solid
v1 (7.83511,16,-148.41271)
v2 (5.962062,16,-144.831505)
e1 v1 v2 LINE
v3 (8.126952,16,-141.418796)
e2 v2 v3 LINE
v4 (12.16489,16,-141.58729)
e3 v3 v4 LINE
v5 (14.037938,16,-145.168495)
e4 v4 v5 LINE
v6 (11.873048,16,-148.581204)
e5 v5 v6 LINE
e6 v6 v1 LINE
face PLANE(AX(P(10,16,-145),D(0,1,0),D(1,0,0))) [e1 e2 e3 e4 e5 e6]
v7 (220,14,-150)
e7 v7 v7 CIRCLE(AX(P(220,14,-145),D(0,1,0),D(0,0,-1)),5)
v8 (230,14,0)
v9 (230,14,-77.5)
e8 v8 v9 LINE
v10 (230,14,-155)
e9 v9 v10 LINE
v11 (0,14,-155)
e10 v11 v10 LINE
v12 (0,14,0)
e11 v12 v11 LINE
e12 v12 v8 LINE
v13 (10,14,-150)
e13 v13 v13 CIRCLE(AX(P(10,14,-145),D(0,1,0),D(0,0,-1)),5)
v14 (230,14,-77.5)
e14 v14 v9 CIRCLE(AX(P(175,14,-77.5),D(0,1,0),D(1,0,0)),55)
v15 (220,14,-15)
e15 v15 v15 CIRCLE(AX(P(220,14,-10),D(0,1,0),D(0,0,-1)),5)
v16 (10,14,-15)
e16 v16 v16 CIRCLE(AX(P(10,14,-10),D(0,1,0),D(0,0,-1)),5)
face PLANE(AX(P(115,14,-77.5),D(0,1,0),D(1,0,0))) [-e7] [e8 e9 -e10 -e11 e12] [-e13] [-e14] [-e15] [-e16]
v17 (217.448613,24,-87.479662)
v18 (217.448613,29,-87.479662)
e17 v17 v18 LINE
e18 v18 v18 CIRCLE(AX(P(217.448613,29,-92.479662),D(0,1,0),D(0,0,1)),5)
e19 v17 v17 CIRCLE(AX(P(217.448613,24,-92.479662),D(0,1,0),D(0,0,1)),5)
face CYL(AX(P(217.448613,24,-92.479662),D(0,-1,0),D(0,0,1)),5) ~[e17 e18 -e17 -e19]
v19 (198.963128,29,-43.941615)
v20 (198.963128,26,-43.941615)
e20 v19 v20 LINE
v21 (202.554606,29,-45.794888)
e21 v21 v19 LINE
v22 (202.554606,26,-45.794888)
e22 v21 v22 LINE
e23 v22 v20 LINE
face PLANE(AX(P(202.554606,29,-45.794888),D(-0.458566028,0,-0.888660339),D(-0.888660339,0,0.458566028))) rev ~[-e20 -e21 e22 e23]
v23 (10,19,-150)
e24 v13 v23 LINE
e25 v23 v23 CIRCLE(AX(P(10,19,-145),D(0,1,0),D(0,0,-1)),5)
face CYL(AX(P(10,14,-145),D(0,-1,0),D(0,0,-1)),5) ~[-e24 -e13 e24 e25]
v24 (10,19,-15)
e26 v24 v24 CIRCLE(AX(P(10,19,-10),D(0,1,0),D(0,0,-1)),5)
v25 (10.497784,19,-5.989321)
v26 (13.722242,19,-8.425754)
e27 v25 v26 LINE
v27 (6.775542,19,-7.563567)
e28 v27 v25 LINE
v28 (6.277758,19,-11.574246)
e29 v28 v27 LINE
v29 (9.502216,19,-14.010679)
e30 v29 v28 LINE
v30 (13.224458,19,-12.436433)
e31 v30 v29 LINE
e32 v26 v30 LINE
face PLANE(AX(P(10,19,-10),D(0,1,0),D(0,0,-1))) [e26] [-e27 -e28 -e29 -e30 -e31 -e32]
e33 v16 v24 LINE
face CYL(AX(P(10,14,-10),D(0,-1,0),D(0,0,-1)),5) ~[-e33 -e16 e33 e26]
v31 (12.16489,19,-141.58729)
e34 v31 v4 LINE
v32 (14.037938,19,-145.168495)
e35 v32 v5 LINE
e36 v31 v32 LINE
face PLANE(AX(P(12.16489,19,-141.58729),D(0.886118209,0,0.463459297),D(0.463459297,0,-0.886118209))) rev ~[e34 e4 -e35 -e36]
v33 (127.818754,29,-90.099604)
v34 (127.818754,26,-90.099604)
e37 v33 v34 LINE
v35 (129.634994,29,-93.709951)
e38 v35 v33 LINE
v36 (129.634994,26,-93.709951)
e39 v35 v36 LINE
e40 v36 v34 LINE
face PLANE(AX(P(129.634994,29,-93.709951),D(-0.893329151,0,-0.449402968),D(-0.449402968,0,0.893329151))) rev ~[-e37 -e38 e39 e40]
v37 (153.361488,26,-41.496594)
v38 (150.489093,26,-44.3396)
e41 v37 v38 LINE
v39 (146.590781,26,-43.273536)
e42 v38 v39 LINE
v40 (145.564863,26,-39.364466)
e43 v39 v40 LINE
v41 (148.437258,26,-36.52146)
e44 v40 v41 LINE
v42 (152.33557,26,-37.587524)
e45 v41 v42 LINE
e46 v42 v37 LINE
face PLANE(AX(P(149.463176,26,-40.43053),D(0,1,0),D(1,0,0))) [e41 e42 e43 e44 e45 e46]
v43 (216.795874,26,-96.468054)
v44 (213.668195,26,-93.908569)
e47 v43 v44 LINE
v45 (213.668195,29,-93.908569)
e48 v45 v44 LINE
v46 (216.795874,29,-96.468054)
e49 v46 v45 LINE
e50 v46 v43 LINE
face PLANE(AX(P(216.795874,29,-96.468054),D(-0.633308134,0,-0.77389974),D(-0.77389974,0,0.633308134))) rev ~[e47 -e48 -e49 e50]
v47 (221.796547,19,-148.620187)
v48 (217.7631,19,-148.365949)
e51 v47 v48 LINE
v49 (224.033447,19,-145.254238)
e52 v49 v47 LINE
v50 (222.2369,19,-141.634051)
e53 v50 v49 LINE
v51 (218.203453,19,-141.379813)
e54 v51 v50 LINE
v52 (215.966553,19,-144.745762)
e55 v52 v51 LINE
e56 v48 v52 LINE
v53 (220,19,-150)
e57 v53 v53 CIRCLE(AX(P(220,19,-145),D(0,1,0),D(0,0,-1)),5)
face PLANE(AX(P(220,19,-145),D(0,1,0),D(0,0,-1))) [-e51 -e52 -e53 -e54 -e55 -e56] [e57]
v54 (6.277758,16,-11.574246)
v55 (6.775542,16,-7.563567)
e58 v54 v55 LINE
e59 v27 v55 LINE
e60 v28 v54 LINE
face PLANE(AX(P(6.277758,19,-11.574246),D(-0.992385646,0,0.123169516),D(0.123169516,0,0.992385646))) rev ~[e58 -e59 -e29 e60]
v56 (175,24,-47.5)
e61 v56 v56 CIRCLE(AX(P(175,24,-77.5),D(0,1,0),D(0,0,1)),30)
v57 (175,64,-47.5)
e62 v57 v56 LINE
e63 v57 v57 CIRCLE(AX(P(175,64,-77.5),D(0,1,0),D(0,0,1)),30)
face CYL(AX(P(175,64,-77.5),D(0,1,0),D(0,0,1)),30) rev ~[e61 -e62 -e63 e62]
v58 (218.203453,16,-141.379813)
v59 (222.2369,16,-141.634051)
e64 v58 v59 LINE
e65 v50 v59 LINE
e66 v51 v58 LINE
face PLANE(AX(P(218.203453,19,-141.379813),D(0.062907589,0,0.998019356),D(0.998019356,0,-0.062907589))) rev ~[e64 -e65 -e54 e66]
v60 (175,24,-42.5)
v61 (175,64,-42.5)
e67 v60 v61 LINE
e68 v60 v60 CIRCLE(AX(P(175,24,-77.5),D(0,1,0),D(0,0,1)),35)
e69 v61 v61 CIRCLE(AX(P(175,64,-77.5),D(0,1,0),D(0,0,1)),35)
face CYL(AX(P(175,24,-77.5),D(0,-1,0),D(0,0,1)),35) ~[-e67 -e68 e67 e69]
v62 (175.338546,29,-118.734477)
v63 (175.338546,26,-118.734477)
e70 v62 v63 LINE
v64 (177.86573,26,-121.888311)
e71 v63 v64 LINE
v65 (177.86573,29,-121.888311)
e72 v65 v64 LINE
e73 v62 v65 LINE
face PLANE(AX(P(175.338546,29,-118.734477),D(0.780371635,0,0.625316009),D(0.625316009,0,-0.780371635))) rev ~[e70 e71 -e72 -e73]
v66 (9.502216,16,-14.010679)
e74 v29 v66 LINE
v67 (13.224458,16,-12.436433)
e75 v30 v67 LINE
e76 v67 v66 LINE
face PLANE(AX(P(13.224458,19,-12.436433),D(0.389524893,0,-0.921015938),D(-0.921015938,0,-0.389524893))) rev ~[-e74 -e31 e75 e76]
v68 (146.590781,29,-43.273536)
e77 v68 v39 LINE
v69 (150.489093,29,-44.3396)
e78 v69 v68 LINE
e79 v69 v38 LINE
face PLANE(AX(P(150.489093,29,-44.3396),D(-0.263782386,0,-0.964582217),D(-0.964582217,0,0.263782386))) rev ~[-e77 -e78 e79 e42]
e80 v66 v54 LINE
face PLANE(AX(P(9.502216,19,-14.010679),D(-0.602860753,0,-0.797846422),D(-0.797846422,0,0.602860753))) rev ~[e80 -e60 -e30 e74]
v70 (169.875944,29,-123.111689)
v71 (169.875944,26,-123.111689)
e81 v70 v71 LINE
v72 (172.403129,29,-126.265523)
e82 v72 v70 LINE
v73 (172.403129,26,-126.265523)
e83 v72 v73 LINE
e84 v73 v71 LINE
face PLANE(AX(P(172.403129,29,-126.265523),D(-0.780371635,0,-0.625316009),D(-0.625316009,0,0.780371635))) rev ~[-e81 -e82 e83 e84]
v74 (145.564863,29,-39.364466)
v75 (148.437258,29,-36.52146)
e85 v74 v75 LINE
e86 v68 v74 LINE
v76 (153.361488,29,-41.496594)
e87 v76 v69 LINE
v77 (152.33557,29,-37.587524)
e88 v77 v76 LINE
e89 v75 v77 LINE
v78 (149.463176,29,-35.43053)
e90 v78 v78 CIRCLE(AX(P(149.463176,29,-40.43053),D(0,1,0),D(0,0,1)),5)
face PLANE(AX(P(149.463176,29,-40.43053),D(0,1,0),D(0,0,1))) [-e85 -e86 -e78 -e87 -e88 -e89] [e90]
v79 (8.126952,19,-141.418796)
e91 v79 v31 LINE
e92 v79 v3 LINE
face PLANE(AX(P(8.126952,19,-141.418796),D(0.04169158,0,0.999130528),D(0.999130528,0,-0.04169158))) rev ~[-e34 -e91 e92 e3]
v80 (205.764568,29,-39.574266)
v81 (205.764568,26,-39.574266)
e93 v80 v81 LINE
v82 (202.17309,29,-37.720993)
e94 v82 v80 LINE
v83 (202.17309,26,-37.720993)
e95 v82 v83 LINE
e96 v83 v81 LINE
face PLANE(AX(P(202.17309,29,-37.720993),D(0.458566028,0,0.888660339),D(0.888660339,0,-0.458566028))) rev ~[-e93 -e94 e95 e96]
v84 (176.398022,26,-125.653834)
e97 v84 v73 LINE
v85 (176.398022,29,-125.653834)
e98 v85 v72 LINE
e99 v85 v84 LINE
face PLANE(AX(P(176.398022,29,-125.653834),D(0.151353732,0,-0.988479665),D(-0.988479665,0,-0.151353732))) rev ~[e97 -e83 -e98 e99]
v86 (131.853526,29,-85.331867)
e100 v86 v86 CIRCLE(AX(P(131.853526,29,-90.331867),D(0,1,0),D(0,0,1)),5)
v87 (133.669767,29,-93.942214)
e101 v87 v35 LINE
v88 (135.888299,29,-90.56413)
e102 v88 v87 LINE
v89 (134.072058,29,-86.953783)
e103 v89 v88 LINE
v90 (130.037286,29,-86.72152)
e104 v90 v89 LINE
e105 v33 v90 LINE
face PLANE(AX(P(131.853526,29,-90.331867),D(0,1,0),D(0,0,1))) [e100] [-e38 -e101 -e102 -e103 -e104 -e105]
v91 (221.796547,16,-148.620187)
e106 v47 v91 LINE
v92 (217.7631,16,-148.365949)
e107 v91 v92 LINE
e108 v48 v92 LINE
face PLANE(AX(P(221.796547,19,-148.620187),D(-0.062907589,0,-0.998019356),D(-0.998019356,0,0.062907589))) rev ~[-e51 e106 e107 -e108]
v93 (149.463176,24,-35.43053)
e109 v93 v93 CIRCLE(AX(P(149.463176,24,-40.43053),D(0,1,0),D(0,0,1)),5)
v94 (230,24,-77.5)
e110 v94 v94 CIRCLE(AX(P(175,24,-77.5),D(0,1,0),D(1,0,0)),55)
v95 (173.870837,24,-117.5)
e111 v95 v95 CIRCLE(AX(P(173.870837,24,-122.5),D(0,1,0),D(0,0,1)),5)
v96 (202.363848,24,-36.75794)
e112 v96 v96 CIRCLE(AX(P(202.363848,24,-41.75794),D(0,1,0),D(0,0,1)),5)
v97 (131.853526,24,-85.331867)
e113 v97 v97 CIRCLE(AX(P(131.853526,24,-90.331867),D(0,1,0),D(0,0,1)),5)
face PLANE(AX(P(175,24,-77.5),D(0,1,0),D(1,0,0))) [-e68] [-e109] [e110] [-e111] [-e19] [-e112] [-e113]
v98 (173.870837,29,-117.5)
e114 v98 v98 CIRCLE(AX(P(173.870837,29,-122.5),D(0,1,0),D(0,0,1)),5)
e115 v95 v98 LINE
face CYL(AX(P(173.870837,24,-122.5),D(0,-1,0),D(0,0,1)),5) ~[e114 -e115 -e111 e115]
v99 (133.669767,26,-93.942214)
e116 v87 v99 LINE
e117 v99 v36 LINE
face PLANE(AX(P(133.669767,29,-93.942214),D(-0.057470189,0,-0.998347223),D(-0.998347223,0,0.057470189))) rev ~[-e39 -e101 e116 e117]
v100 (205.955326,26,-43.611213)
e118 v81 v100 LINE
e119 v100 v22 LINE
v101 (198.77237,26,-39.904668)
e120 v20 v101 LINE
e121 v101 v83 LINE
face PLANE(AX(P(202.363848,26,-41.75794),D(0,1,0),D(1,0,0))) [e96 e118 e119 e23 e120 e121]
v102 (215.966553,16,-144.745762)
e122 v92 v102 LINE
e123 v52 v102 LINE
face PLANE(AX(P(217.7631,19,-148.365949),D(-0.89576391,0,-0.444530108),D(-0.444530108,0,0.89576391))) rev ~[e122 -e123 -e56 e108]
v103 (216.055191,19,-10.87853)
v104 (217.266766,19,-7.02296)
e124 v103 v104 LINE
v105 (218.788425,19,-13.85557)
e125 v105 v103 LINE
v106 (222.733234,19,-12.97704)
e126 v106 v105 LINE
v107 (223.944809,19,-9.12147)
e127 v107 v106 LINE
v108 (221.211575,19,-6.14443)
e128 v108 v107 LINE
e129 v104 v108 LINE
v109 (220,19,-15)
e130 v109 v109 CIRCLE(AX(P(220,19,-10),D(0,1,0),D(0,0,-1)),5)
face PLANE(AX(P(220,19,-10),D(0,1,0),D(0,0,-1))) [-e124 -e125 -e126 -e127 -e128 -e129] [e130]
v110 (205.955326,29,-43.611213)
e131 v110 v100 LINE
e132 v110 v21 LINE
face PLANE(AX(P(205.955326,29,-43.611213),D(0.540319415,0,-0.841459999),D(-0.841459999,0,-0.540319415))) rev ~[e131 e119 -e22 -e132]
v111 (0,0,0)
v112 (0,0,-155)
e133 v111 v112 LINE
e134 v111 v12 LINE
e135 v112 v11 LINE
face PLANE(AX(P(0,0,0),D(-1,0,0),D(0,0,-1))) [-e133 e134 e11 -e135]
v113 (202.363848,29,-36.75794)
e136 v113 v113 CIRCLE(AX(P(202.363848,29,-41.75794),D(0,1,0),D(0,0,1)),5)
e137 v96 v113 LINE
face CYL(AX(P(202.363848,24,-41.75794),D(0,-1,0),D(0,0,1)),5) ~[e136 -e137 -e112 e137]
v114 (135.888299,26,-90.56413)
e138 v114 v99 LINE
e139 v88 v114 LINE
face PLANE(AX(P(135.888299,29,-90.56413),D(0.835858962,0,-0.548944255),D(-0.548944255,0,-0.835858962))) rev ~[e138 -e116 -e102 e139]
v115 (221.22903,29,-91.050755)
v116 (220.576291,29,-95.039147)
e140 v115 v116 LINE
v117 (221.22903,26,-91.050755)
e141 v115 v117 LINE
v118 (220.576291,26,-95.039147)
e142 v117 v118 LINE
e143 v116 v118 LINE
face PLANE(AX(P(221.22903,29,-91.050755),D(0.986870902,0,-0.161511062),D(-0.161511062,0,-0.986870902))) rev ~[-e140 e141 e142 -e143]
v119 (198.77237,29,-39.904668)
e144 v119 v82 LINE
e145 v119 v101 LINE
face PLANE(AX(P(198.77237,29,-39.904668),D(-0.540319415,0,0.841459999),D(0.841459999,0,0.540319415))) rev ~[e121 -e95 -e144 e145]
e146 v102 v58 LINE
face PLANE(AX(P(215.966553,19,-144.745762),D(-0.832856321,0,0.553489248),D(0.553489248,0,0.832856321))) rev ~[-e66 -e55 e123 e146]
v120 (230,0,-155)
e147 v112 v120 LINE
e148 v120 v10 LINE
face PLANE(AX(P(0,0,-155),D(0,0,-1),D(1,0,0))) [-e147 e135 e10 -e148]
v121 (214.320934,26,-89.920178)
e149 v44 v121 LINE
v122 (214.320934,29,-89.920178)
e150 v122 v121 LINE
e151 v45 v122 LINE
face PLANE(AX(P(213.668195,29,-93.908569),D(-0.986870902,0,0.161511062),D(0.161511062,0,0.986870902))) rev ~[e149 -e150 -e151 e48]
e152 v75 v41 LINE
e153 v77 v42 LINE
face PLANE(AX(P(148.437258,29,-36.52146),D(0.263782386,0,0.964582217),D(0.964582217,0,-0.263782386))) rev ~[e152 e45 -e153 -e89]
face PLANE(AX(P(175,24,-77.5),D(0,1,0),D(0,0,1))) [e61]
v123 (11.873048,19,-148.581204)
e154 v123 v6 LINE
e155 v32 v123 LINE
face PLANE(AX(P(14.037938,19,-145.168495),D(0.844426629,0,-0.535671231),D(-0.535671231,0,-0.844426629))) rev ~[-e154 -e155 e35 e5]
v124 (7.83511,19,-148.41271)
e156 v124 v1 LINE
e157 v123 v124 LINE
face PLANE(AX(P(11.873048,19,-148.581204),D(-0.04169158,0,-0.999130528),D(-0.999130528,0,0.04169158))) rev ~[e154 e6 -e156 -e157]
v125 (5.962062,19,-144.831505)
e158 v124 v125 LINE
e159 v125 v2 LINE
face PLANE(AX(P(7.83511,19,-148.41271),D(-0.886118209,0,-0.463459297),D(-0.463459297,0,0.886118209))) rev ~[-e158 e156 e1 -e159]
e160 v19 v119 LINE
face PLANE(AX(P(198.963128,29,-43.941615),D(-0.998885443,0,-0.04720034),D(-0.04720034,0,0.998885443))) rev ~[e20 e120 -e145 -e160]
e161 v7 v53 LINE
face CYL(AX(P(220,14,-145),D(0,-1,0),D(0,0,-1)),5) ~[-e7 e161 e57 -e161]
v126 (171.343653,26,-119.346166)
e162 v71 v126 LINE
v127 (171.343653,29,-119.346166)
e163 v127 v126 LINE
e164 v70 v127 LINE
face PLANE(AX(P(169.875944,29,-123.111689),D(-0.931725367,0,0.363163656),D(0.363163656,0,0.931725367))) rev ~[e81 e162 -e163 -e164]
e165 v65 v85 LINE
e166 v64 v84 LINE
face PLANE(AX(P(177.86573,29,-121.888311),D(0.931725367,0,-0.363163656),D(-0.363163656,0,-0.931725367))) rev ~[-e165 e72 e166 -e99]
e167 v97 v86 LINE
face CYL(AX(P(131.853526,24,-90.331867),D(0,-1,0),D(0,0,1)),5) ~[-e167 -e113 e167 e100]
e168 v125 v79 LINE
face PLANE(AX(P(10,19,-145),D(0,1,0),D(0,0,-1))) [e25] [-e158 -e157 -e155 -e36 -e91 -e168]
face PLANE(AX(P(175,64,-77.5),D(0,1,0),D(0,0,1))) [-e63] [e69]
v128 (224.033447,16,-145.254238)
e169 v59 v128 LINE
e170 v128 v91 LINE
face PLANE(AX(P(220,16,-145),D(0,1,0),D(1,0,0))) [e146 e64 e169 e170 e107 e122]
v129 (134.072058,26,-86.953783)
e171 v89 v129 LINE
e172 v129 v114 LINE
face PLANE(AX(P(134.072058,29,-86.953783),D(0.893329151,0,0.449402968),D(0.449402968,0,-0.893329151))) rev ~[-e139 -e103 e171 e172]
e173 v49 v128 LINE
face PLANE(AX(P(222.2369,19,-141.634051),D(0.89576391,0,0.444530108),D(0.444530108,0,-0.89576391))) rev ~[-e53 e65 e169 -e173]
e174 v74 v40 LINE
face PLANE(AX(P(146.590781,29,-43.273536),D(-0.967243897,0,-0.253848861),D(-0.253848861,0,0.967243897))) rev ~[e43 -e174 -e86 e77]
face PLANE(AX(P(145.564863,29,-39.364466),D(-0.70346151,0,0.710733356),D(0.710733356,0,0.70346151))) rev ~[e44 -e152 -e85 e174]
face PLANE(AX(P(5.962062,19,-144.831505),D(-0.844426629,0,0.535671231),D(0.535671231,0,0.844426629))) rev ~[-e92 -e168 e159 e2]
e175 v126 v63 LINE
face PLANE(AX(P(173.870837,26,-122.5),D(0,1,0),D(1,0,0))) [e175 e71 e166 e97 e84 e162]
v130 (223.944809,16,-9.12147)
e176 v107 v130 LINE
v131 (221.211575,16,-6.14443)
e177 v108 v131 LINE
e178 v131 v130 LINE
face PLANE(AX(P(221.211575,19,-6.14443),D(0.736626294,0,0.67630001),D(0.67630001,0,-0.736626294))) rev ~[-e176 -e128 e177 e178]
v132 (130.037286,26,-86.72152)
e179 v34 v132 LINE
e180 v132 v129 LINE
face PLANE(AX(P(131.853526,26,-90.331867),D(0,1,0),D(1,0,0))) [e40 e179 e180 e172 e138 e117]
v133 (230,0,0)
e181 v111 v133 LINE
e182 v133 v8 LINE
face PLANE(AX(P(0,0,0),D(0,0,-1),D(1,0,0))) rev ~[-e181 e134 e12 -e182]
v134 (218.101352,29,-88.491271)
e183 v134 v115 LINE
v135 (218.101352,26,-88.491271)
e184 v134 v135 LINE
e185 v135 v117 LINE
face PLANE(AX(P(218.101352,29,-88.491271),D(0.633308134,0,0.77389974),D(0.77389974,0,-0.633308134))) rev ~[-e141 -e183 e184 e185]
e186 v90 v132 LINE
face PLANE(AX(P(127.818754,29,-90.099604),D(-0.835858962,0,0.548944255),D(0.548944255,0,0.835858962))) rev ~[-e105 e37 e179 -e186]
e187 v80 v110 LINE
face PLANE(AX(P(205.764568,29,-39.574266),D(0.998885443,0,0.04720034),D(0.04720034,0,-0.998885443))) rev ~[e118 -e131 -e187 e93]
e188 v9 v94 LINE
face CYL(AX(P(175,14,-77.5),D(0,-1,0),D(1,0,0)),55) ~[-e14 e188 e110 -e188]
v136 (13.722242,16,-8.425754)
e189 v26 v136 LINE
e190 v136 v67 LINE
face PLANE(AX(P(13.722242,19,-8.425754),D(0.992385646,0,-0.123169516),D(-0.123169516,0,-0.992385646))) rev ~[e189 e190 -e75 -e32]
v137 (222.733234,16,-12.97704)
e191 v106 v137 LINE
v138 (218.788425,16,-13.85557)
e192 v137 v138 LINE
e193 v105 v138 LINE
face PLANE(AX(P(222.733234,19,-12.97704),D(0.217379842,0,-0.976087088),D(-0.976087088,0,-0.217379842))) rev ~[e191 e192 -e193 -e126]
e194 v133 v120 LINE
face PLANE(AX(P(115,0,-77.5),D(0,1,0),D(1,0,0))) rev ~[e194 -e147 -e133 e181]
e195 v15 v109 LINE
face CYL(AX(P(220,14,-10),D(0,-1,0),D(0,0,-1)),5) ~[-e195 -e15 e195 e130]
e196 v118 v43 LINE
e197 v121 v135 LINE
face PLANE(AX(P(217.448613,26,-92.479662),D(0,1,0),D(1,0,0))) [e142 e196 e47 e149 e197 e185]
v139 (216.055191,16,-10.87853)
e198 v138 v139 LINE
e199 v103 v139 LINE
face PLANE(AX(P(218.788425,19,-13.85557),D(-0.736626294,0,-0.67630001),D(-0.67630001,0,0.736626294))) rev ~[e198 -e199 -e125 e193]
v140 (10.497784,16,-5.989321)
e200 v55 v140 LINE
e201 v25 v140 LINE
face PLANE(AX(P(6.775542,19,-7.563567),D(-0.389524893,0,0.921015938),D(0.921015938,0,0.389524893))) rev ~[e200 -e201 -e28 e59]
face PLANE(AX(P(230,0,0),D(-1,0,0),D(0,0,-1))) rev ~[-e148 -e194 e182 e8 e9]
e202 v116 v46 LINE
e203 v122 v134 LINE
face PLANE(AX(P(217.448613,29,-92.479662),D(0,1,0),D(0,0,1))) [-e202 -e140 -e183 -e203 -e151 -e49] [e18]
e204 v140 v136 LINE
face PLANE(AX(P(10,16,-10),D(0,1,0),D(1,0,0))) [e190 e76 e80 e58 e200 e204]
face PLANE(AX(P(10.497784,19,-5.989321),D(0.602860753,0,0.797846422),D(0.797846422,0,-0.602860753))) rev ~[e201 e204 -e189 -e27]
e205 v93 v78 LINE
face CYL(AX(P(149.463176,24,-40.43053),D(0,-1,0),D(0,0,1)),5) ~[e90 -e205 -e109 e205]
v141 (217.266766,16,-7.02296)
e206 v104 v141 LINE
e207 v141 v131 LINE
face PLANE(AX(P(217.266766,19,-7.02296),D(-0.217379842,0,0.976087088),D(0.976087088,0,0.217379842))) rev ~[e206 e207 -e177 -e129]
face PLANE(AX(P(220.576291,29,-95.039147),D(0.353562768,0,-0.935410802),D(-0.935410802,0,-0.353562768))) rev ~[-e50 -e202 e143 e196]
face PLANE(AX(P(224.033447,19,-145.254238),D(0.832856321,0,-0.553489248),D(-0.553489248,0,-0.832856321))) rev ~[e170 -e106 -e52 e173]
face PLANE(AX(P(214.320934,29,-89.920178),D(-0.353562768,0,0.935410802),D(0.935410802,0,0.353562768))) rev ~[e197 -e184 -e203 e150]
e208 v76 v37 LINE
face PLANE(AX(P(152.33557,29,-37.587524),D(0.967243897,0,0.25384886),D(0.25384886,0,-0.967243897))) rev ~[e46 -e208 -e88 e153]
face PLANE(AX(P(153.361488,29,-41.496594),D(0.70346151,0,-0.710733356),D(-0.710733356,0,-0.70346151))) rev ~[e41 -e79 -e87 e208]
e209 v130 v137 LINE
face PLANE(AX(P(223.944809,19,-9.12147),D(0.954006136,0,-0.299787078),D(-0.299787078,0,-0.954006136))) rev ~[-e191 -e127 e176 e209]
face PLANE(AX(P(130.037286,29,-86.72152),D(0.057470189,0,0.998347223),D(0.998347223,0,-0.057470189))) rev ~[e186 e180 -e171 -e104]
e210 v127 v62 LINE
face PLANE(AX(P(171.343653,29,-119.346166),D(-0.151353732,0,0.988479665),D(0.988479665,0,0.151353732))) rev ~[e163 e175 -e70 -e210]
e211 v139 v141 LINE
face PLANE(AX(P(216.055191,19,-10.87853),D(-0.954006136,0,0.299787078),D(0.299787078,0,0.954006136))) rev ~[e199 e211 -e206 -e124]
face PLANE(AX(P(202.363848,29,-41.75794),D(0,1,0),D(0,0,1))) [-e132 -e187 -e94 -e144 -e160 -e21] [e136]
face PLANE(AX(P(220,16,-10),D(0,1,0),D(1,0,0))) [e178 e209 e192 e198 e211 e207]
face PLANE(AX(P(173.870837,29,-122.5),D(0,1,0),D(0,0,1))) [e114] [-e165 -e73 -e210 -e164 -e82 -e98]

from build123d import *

# Parameters (mm, degrees)
SKETCH1_W           = 230
SKETCH1_H           = 155
BOSS_EXTRUDE1_DEPTH = 14
SKETCH2_R           = 55
BOSS_EXTRUDE2_DEPTH = 10
SKETCH4_R           = 35
BOSS_EXTRUDE3_DEPTH = 40
SKETCH8_R           = 30
CUT_EXTRUDE1_DEPTH  = 40
SKETCH11_R          = 5
BOSS_EXTRUDE5_DEPTH = 5
CUT_EXTRUDE3_DEPTH  = 3
SKETCH14_R          = 5
BOSS_EXTRUDE8_DEPTH = 5
CUT_EXTRUDE4_DEPTH  = 3


with BuildPart() as part:
    # Sketch1 → Boss-Extrude1 (new body)
    with BuildSketch(Plane(origin=(0, 0, 0), x_dir=(1, 0, 0), z_dir=(0, 1, 0))):
        with Locations((115, 77.5)):
            Rectangle(SKETCH1_W, SKETCH1_H)
    extrude(amount=BOSS_EXTRUDE1_DEPTH)

    # Sketch2 → Boss-Extrude2 (add)
    with BuildSketch(Plane(origin=(0, 14, 0), x_dir=(1, 0, 0), z_dir=(0, 1, 0))):
        with Locations((175, 77.5)):
            Circle(SKETCH2_R)
    extrude(amount=BOSS_EXTRUDE2_DEPTH)

    # Sketch4 → Boss-Extrude3 (add)
    with BuildSketch(Plane(origin=(0, 24, 0), x_dir=(1, 0, 0), z_dir=(0, 1, 0))):
        with Locations(Location((175, 77.5, 0), (0, 0, 270))):
            Circle(SKETCH4_R)
    extrude(amount=BOSS_EXTRUDE3_DEPTH)

    # Sketch8 → Cut-Extrude1 (cut)
    with BuildSketch(Plane(origin=(0, 64, 0), x_dir=(1, 0, 0), z_dir=(0, 1, 0))):
        with Locations(Location((175, 77.5, 0), (0, 0, 270))):
            Circle(SKETCH8_R)
    extrude(amount=-CUT_EXTRUDE1_DEPTH, mode=Mode.SUBTRACT)

    # Sketch11 → Boss-Extrude5 (add)
    with BuildSketch(Plane(origin=(0, 14, 0), x_dir=(1, 0, 0), z_dir=(0, 1, 0))):
        with Locations(Location((10, 10, 0), (0, 0, 90))):
            Circle(SKETCH11_R)
        with Locations(Location((10, 145, 0), (0, 0, 90))):
            Circle(SKETCH11_R)
        with Locations(Location((220, 145, 0), (0, 0, 90))):
            Circle(SKETCH11_R)
        with Locations(Location((220, 10, 0), (0, 0, 90))):
            Circle(SKETCH11_R)
    extrude(amount=BOSS_EXTRUDE5_DEPTH)

    # Sketch13 → Cut-Extrude3 (cut)
    with BuildSketch(Plane(origin=(0, 19, 0), x_dir=(1, 0, 0), z_dir=(0, 1, 0))):
        Polygon((13.224457924, 12.436432727), (9.502216326, 14.010678839), (6.277758402, 11.574246112), (6.775542076, 7.563567273), (10.497783674, 5.989321161), (13.722241598, 8.425753888), align=None)
        Polygon((11.87304845, 148.581204105), (7.835110494, 148.412709592), (5.962062044, 144.831505488), (8.12695155, 141.418795895), (12.164889506, 141.587290408), (14.037937956, 145.168494512), align=None)
        Polygon((224.033447208, 145.254237993), (221.796547043, 148.620186743), (217.763099836, 148.36594875), (215.966552792, 144.745762007), (218.203452957, 141.379813257), (222.236900164, 141.63405125), align=None)
        Polygon((222.73323395, 12.977039723), (218.788424947, 13.855569896), (216.055190997, 10.878530173), (217.26676605, 7.022960277), (221.211575053, 6.144430104), (223.944809003, 9.121469827), align=None)
    extrude(amount=-CUT_EXTRUDE3_DEPTH, mode=Mode.SUBTRACT)

    # Sketch14 → Boss-Extrude8 (add)
    with BuildSketch(Plane(origin=(0, 24, 0), x_dir=(1, 0, 0), z_dir=(0, 1, 0))):
        with Locations(Location((173.870837224, 122.5, 0), (0, 0, 270))):
            Circle(SKETCH14_R)
        with Locations(Location((217.448612746, 92.479662363, 0), (0, 0, 270))):
            Circle(SKETCH14_R)
        with Locations(Location((202.363848229, 41.75794048, 0), (0, 0, 270))):
            Circle(SKETCH14_R)
        with Locations(Location((149.463175522, 40.430530026, 0), (0, 0, 270))):
            Circle(SKETCH14_R)
        with Locations(Location((131.853526279, 90.331867131, 0), (0, 0, 270))):
            Circle(SKETCH14_R)
    extrude(amount=BOSS_EXTRUDE8_DEPTH)

    # Sketch15 → Cut-Extrude4 (cut)
    with BuildSketch(Plane(origin=(0, 29, 0), x_dir=(1, 0, 0), z_dir=(0, 1, 0))):
        Polygon((221.229030496, 91.050755448), (220.576291309, 95.039146714), (216.795873559, 96.468053629), (213.668194996, 93.908569278), (214.320934183, 89.920178012), (218.101351933, 88.491271098), align=None)
        Polygon((176.398021787, 125.653834415), (172.403128782, 126.265523239), (169.875944219, 123.111688824), (171.343652661, 119.346165585), (175.338545665, 118.734476761), (177.865730228, 121.888311176), align=None)
        Polygon((202.173090327, 37.720993025), (205.764568327, 39.574265564), (205.955326229, 43.611213019), (202.554606131, 45.794887936), (198.96312813, 43.941615397), (198.772370228, 39.904667942), align=None)
        Polygon((145.564862905, 39.364466202), (148.437257567, 36.521460356), (152.335570184, 37.587524179), (153.361488139, 41.496593849), (150.489093478, 44.339599695), (146.590780861, 43.273535872), align=None)
        Polygon((129.634994486, 93.709950909), (127.818754014, 90.099604127), (130.037285808, 86.721520349), (134.072058073, 86.953783352), (135.888298544, 90.564130134), (133.669766751, 93.942213912), align=None)
    extrude(amount=-CUT_EXTRUDE4_DEPTH, mode=Mode.SUBTRACT)


solid = part.part
